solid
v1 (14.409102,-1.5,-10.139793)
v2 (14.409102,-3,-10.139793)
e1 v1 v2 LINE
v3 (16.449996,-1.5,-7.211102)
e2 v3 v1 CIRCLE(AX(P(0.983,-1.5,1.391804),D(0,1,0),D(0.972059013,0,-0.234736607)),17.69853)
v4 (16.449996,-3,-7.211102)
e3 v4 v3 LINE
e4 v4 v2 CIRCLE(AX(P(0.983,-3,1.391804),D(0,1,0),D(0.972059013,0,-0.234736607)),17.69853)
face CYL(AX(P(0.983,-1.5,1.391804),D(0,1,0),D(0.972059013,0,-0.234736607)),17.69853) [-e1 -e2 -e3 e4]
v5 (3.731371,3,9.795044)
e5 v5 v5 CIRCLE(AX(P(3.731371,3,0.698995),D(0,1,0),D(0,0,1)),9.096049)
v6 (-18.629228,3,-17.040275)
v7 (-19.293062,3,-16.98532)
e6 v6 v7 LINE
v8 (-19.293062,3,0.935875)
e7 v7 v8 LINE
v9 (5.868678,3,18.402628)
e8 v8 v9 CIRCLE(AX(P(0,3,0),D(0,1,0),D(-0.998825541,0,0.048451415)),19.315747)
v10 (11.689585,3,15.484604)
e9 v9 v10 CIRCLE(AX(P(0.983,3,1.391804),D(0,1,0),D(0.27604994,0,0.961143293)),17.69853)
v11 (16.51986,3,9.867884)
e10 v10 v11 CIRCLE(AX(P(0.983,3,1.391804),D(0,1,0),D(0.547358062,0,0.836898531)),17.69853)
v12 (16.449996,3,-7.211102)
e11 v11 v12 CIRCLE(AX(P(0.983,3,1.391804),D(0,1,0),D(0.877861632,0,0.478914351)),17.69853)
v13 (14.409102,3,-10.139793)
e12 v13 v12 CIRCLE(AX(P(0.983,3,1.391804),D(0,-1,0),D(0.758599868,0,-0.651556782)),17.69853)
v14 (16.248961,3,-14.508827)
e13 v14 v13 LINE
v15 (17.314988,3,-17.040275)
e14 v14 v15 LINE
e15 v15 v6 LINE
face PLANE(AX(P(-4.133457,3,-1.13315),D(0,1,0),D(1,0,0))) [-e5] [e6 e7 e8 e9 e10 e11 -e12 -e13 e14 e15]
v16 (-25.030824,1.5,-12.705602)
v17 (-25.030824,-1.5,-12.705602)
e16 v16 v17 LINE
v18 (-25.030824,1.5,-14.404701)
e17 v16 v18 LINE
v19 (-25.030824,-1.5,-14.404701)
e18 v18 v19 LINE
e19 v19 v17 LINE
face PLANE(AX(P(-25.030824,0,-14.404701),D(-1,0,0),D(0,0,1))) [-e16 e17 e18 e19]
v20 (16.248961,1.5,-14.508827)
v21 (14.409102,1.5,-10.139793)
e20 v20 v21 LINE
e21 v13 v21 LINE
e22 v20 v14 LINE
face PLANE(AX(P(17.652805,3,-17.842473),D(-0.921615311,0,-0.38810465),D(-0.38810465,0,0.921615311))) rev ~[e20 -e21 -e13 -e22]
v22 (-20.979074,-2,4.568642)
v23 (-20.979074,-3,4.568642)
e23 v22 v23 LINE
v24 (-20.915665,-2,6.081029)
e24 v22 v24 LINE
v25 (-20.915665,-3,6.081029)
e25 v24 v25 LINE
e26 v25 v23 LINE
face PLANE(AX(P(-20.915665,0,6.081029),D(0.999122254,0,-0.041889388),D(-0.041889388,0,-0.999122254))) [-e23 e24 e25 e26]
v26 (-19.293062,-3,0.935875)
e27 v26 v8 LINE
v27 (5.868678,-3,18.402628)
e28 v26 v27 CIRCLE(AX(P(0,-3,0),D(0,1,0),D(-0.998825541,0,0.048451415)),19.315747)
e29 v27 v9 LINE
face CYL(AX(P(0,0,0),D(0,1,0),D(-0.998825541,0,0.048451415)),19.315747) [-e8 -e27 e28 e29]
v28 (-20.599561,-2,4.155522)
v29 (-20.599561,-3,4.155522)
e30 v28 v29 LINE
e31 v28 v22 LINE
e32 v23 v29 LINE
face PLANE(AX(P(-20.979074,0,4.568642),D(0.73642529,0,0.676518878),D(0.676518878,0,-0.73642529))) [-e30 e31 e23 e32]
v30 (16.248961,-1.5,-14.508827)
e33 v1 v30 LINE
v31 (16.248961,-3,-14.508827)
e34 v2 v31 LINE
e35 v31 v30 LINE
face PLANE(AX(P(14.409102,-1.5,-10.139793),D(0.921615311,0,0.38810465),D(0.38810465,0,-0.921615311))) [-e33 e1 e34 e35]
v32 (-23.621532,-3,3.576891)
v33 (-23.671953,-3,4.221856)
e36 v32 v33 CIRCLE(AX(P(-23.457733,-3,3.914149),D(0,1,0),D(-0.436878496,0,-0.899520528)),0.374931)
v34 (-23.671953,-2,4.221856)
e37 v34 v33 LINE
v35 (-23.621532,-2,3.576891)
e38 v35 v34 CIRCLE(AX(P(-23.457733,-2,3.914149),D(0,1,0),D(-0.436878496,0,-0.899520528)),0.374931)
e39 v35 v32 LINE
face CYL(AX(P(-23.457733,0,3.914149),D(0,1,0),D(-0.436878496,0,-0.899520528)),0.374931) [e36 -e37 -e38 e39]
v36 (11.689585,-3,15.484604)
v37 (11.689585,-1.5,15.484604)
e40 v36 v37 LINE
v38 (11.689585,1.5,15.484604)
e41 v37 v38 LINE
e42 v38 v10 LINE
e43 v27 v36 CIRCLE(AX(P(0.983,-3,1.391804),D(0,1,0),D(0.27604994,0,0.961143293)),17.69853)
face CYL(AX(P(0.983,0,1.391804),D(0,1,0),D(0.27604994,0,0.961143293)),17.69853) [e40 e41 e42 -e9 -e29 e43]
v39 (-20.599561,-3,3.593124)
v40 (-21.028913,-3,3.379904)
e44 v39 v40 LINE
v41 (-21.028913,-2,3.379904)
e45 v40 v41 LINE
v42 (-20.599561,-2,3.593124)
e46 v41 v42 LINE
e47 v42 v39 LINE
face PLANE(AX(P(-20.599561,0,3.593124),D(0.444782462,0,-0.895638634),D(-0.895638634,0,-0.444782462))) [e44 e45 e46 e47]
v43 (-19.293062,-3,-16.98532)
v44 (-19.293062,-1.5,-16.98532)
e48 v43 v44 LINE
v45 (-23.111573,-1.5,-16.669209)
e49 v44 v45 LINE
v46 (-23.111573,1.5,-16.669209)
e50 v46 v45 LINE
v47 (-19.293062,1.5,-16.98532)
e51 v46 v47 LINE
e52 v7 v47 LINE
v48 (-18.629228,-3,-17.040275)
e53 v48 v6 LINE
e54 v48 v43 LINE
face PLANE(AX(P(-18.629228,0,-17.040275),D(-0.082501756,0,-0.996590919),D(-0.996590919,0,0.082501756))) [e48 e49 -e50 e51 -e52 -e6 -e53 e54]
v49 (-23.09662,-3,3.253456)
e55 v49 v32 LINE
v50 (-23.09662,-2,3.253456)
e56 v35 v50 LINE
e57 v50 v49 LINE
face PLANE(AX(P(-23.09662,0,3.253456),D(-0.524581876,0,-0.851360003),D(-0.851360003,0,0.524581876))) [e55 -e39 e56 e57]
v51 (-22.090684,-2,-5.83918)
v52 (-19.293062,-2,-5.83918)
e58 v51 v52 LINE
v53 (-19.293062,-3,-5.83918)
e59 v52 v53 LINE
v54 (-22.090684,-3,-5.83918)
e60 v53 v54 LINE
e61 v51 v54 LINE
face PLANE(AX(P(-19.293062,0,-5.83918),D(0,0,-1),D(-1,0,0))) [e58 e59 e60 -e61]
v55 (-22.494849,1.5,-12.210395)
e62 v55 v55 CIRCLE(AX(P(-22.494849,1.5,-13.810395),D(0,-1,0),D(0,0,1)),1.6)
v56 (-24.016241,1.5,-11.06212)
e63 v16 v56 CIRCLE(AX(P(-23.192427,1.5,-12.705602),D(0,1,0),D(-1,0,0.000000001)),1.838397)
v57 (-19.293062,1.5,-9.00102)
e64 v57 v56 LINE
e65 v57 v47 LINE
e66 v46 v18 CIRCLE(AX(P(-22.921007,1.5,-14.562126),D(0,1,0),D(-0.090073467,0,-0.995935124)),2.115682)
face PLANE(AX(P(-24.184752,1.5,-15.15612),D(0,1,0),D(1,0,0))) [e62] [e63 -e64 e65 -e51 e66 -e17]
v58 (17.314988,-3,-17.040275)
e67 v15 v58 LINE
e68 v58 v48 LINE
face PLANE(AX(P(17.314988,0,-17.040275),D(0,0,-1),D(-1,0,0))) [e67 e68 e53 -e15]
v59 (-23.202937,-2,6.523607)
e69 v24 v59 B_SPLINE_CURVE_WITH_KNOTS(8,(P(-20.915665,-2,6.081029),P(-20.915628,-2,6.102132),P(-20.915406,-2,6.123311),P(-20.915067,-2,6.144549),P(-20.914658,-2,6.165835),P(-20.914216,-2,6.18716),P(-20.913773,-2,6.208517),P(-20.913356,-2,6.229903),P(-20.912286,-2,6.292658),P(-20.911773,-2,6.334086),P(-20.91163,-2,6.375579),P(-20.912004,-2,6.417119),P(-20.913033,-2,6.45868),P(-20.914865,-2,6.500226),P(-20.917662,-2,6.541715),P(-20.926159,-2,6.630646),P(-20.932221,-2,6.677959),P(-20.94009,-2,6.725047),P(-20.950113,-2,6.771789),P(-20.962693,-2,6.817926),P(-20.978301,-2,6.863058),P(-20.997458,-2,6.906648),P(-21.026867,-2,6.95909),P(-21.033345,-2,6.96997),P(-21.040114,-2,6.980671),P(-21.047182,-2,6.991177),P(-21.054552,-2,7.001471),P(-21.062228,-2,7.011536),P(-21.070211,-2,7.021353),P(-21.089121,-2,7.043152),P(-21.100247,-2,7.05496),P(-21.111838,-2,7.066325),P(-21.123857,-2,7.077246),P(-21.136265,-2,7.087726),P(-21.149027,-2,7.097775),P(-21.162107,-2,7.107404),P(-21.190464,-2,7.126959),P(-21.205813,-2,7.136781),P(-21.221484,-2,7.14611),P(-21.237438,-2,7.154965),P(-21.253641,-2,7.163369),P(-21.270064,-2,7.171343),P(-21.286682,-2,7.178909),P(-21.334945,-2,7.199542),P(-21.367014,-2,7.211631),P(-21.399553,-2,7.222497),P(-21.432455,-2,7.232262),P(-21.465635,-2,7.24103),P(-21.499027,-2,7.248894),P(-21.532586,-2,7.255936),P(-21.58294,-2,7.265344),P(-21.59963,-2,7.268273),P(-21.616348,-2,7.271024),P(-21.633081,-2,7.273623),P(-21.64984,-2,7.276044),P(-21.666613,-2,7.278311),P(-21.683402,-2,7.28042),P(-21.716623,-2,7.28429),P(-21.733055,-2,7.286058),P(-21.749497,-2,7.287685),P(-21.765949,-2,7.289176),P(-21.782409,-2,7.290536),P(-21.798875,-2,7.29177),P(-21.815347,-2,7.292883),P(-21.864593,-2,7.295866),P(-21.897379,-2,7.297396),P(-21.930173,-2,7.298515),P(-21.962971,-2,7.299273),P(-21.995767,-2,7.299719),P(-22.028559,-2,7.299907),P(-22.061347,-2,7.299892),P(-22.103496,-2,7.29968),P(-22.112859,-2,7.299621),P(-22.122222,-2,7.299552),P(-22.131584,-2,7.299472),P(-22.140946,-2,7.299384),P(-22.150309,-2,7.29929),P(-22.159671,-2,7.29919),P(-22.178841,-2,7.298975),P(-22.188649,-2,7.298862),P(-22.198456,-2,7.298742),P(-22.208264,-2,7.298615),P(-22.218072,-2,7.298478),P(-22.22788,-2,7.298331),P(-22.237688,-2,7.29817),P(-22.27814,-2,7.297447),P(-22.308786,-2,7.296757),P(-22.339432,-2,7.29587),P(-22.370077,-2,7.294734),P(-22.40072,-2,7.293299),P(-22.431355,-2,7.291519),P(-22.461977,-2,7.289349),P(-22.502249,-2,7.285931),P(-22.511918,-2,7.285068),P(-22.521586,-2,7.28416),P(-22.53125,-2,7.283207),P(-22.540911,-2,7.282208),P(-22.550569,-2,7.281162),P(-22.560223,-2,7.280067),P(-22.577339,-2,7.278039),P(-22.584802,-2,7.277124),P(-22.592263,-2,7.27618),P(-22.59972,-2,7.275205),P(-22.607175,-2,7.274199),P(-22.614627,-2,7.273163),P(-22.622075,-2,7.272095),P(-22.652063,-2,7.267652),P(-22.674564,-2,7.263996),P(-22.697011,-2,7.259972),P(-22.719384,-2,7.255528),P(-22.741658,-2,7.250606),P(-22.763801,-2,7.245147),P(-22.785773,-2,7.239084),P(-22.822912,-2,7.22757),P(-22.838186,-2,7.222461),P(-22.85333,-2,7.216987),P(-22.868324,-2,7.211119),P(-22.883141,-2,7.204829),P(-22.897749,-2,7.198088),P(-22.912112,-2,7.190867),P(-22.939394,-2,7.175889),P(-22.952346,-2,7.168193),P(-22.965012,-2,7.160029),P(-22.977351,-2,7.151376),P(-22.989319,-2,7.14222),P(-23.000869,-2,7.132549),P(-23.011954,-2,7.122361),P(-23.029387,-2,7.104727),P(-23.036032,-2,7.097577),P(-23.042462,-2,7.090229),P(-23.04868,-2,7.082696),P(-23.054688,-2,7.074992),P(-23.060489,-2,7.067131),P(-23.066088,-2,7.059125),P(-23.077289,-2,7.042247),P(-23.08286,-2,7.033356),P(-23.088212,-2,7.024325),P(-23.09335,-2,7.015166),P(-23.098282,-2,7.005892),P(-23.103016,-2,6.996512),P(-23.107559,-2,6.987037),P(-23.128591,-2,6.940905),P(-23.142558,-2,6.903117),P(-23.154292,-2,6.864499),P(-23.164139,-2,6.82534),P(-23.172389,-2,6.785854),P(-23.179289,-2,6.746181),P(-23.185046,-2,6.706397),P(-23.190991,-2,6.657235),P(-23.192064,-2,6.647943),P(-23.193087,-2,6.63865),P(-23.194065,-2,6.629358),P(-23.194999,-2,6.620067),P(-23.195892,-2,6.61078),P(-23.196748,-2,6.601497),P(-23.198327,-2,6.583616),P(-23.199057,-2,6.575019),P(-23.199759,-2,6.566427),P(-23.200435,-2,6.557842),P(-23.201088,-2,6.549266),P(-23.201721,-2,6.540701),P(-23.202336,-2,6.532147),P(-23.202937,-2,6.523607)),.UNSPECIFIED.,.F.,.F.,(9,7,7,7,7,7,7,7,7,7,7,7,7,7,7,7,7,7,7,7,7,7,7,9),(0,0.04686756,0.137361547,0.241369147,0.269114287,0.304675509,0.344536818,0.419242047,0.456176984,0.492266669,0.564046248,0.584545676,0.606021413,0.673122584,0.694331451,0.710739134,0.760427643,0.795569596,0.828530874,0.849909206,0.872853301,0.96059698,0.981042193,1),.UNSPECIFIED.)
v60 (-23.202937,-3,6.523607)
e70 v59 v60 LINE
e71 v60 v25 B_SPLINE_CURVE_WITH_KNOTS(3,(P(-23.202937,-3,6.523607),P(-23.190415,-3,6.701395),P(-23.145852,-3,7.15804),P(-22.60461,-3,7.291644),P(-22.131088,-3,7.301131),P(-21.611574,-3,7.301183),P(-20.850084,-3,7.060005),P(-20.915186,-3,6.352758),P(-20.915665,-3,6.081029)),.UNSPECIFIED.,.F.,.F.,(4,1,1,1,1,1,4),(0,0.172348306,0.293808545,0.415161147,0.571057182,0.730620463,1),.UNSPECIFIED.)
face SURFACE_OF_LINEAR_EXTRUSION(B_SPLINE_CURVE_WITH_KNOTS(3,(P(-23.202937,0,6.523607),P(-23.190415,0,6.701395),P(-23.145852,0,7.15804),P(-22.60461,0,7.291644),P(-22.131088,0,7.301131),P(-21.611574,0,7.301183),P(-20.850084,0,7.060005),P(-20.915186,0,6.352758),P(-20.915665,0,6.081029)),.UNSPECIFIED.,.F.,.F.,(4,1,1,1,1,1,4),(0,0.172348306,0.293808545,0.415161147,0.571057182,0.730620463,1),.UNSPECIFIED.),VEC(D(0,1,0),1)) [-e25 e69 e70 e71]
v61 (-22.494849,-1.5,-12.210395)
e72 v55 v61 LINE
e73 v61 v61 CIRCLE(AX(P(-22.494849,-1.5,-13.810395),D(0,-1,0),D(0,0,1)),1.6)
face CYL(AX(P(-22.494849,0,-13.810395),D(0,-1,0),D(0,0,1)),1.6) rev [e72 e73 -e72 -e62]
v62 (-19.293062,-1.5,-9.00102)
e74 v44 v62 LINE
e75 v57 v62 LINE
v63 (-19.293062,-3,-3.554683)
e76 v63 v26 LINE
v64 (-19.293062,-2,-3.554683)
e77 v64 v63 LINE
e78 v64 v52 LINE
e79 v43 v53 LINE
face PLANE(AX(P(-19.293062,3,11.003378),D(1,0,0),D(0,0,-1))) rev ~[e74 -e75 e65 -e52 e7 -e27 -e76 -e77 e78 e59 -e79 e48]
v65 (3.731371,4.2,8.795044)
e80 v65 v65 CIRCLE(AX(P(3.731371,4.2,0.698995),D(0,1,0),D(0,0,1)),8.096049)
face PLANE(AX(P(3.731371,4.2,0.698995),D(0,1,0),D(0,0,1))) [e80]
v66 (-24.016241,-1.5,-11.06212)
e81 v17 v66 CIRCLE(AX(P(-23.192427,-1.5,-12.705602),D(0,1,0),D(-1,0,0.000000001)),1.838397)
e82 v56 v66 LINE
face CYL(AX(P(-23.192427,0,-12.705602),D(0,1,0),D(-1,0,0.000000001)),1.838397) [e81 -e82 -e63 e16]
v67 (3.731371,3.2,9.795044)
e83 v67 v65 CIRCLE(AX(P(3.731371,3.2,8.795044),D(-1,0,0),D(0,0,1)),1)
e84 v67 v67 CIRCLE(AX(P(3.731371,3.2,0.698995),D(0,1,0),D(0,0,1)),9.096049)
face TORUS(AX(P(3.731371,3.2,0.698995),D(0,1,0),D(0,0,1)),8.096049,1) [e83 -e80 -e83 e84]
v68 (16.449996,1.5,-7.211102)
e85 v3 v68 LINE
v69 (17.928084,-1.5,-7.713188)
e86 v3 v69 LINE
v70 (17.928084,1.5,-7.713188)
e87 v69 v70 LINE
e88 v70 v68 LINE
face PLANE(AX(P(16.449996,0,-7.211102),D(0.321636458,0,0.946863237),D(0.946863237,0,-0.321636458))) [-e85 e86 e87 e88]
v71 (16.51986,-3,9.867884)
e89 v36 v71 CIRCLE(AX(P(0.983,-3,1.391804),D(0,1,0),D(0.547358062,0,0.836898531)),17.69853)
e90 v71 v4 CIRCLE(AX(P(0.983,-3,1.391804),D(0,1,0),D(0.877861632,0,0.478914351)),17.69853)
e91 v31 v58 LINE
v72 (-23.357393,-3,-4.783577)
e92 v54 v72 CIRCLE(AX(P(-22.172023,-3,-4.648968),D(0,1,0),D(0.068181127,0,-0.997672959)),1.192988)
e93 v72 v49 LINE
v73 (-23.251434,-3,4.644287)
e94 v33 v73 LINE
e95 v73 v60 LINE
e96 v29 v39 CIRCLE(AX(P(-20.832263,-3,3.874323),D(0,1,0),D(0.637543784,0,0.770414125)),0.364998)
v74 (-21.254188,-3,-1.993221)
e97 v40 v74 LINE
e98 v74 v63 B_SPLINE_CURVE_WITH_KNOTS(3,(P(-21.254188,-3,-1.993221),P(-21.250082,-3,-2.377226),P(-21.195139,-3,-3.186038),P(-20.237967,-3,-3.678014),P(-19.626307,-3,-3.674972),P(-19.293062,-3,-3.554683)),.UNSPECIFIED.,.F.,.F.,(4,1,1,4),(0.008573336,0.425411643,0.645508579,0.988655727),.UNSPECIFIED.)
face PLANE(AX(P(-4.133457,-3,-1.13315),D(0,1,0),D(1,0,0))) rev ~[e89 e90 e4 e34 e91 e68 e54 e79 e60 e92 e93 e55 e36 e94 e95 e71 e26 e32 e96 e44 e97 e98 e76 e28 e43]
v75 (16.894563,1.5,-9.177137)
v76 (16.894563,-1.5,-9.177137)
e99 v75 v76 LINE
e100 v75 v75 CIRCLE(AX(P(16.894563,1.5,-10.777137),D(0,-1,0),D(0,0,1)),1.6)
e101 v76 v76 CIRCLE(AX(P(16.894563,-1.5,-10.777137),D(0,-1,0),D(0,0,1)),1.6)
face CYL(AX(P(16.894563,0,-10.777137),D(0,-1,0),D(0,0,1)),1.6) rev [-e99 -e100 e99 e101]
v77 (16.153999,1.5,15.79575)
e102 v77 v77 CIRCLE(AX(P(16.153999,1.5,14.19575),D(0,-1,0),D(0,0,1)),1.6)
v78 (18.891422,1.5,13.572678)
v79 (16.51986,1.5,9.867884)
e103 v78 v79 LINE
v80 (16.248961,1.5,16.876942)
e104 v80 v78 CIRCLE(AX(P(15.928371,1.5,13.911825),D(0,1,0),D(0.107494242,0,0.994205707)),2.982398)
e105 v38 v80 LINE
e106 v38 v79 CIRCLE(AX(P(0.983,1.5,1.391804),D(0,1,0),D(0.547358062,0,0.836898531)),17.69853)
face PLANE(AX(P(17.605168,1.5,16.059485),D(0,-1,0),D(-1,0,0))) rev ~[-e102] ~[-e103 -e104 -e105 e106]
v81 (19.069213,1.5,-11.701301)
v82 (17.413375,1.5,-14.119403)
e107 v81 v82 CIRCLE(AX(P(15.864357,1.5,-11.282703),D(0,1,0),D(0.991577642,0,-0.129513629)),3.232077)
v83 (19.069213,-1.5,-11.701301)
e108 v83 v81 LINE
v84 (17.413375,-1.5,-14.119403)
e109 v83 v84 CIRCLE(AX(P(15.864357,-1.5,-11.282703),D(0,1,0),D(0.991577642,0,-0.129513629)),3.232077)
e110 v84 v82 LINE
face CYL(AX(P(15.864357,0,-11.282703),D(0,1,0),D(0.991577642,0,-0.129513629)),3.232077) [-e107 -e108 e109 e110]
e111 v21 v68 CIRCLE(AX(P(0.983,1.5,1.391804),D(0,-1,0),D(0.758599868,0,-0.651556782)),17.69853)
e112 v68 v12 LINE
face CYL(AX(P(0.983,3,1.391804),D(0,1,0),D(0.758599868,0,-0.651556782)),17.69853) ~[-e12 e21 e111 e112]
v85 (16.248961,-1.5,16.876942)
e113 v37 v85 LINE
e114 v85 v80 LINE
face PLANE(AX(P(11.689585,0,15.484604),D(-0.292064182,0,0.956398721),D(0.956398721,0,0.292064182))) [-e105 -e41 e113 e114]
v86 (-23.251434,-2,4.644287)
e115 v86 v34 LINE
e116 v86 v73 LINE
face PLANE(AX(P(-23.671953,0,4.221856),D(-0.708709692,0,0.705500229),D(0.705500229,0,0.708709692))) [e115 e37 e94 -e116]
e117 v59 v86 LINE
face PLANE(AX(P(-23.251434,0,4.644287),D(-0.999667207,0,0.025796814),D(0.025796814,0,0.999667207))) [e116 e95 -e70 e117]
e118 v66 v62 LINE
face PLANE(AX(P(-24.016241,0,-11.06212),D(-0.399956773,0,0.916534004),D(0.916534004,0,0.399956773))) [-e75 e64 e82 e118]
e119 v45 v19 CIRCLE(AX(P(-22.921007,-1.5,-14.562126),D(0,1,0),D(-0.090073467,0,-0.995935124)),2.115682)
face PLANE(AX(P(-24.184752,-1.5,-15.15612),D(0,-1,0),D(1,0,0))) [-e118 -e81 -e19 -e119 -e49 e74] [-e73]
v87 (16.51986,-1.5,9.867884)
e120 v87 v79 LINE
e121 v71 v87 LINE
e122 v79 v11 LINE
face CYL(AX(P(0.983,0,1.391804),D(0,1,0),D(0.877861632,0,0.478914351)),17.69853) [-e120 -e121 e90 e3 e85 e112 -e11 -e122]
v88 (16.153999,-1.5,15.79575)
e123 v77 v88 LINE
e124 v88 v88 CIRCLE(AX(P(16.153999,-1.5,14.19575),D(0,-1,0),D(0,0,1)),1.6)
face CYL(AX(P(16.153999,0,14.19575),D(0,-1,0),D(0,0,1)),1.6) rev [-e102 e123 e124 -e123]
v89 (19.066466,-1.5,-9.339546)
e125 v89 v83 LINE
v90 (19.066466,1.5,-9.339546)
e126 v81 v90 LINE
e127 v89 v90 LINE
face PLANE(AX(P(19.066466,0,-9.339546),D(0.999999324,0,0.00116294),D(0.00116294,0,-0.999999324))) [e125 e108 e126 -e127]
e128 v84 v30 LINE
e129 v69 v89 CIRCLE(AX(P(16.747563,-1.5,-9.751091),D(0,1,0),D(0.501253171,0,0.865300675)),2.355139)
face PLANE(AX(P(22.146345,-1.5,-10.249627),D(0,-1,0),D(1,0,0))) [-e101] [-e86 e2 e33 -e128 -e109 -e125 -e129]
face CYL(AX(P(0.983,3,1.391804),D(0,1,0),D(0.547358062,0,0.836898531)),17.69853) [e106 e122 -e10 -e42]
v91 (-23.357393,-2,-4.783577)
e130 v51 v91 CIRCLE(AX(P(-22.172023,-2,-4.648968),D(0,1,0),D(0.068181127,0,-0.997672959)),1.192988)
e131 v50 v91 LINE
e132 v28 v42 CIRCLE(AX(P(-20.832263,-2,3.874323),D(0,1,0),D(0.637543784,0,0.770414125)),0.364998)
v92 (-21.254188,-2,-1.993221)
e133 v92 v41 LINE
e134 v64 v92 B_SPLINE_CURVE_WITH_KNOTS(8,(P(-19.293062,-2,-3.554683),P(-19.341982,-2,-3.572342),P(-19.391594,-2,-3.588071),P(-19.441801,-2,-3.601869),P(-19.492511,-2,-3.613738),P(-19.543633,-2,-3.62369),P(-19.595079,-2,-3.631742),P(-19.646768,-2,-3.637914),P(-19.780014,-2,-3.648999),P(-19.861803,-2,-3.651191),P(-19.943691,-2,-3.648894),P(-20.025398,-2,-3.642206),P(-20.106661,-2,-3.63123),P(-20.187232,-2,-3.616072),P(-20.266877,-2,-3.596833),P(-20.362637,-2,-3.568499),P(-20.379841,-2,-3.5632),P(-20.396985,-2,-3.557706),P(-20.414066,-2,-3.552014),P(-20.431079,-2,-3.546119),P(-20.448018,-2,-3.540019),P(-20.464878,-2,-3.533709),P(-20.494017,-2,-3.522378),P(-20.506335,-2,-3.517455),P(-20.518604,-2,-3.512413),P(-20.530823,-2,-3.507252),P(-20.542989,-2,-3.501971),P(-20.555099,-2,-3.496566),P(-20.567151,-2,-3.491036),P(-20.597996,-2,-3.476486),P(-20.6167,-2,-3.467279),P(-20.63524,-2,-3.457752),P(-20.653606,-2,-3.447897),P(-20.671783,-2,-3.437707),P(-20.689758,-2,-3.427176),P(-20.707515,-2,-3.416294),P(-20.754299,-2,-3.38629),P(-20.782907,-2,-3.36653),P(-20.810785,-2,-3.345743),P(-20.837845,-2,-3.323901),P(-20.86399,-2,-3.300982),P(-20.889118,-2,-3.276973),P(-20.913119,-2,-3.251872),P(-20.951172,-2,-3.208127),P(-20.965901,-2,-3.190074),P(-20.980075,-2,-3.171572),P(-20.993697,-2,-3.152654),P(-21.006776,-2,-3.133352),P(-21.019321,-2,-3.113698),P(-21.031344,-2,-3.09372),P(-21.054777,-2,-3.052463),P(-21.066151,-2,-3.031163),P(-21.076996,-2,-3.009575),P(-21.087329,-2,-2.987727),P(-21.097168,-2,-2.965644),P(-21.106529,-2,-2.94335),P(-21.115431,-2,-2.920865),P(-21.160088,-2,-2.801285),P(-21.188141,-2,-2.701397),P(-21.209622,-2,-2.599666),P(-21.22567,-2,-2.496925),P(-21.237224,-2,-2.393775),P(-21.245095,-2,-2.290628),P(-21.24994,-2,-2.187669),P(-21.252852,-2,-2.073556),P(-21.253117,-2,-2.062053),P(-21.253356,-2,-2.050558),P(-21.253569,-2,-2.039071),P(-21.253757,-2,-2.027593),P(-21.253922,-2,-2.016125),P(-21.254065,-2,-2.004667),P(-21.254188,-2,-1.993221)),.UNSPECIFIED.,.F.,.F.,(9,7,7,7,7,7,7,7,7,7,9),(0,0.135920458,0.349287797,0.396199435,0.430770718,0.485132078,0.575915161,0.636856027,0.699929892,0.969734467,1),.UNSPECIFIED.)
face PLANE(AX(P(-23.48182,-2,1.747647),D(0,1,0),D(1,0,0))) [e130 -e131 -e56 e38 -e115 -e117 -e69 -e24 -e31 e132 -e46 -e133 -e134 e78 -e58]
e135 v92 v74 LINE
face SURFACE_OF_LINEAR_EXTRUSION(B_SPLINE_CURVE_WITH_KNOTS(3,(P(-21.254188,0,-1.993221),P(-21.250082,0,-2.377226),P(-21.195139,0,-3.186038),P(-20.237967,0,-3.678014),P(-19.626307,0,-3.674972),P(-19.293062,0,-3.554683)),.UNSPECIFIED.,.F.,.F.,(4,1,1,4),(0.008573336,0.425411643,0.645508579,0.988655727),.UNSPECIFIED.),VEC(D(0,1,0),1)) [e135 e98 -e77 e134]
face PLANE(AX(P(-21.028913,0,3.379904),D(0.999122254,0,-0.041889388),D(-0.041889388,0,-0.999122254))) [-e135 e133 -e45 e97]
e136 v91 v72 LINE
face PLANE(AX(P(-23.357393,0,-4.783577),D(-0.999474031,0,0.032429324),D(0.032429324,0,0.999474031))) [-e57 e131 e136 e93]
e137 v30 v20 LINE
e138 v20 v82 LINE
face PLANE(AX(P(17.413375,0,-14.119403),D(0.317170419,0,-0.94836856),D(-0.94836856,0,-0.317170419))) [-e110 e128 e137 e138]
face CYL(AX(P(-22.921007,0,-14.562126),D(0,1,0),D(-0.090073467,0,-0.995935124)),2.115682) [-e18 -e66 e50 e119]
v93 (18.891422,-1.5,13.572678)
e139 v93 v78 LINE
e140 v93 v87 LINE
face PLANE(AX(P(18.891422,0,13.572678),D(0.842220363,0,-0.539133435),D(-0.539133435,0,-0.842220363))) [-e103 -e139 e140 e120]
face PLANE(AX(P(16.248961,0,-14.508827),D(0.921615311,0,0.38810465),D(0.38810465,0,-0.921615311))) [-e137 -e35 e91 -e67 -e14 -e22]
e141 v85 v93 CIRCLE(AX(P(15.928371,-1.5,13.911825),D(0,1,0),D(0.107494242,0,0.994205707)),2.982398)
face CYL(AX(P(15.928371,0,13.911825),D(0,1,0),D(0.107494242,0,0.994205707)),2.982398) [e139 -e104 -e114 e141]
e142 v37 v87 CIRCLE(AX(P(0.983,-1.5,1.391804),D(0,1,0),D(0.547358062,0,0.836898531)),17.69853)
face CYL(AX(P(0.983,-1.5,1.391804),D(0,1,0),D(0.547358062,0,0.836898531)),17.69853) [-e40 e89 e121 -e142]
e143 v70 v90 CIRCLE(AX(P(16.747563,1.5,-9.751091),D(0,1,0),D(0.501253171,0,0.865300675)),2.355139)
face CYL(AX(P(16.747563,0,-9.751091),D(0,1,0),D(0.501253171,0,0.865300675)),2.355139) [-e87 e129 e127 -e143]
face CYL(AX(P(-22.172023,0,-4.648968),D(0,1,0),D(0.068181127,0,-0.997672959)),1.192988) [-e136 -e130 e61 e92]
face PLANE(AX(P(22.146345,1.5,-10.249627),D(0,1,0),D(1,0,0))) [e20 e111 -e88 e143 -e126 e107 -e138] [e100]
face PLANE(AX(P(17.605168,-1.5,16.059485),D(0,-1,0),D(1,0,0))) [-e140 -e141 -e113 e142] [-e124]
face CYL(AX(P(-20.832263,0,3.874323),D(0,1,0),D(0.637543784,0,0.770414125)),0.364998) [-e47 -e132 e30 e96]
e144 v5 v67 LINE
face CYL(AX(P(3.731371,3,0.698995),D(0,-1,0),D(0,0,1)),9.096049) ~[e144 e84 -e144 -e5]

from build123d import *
from build123d.topology import SkipClean

# Parameters (mm, degrees)
SKETCH2_R           = 1.5
BOSS_EXTRUDE1_DEPTH = 3
SKETCH3_R           = 9.096048505
BOSS_EXTRUDE2_DEPTH = 1.2
FILLET1_R           = 1
CUT_EXTRUDE1_DEPTH  = 1.5
CUT_EXTRUDE2_START  = -1.5
CUT_EXTRUDE2_DEPTH  = 1.5
CUT_EXTRUDE3_DEPTH  = 5
MOVE_FACE1_BY       = 0.1
MOVE_FACE1_2_BY     = 0.1
MOVE_FACE1_3_BY     = 0.1


with BuildPart() as part:
    # Sketch2 → Boss-Extrude1 (new, symmetric)
    with BuildSketch(Plane(origin=(0, 0, 0), x_dir=(1, 0, 0), z_dir=(0, 1, 0))):
        with BuildLine():
            Line((-20.599560655, -3.593123858), (-21.028912901, -3.379903546))
            Line((-21.028912901, -3.379903546), (-21.254187526, 1.993220784))
            add(Edge.make_bspline(
                [(-21.254187526, 1.993220784), (-21.250081776, 2.377226096), (-21.195139063, 3.186038357), (-20.237966675, 3.678013728), (-19.626306607, 3.674971934), (-19.293061526, 3.554683236)],
                knots=[0.008573336, 0.008573336, 0.008573336, 0.008573336, 0.425411643, 0.645508579, 0.988655727, 0.988655727, 0.988655727, 0.988655727], degree=3))
            Line((-19.293061526, 3.554683236), (-19.293061526, -0.935875279))
            ThreePointArc((-19.293061526, -0.935875279), (-11.01478007, -15.867347151), (5.868677769, -18.402627716))
            ThreePointArc((5.868677769, -18.402627716), (8.914480471, -17.213611271), (11.689585214, -15.484603502))
            Line((11.689585214, -15.484603502), (16.248961374, -16.876941699))
            ThreePointArc((16.248961374, -16.876941699), (18.257558766, -15.774505508), (18.891422269, -13.572677609))
            Line((18.891422269, -13.572677609), (16.51986009, -9.867884272))
            ThreePointArc((16.51986009, -9.867884272), (18.681381592, -1.319406436), (16.449996012, 7.211101574))
            Line((16.449996012, 7.211101574), (17.928084104, 7.713187831))
            ThreePointArc((17.928084104, 7.713187831), (18.677006581, 8.400562387), (19.066466062, 9.339545863))
            Line((19.066466062, 9.339545863), (19.069212644, 11.701301235))
            ThreePointArc((19.069212644, 11.701301235), (18.53112158, 13.108816633), (17.413375201, 14.119402908))
            Line((17.413375201, 14.119402908), (16.248961374, 14.508827059))
            Line((16.248961374, 14.508827059), (17.314988377, 17.040275234))
            Line((17.314988377, 17.040275234), (-18.629227908, 17.040275234))
            Line((-18.629227908, 17.040275234), (-23.111573489, 16.669208858))
            ThreePointArc((-23.111573489, 16.669208858), (-24.534989581, 15.930034001), (-25.030823978, 14.404700893))
            Line((-25.030823978, 14.404700893), (-25.030823978, 12.70560175))
            ThreePointArc((-25.030823978, 12.70560175), (-24.756748057, 11.739888101), (-24.016241086, 11.062119787))
            Line((-24.016241086, 11.062119787), (-19.293061526, 9.00102042))
            Line((-19.293061526, 9.00102042), (-19.293061526, 5.839179653))
            Line((-19.293061526, 5.839179653), (-22.090684207, 5.839179653))
            ThreePointArc((-22.090684207, 5.839179653), (-22.935760928, 5.565442119), (-23.357392581, 4.783576625))
            Line((-23.357392581, 4.783576625), (-23.096619876, -3.253456456))
            Line((-23.096619876, -3.253456456), (-23.621531964, -3.576891157))
            ThreePointArc((-23.621531964, -3.576891157), (-23.831523214, -3.884927944), (-23.671952518, -4.221855504))
            Line((-23.671952518, -4.221855504), (-23.25143386, -4.644287186))
            Line((-23.25143386, -4.644287186), (-23.202937263, -6.523606801))
            add(Edge.make_bspline(
                [(-23.202937263, -6.523606801), (-23.190415125, -6.701394879), (-23.14585211, -7.158039831), (-22.604610265, -7.291644066), (-22.131088375, -7.301130698), (-21.611573501, -7.301182592), (-20.850084131, -7.060004854), (-20.915185829, -6.352757768), (-20.915665013, -6.081028816)],
                knots=[0, 0, 0, 0, 0.172348306, 0.293808545, 0.415161147, 0.571057182, 0.730620463, 1, 1, 1, 1], degree=3))
            Line((-20.915665013, -6.081028816), (-20.979073646, -4.568641575))
            Line((-20.979073646, -4.568641575), (-20.599560655, -4.155522335))
            ThreePointArc((-20.599560655, -4.155522335), (-20.467265038, -3.874323097), (-20.599560655, -3.593123858))
        make_face()
        with Locations(Location((16.153998691, -14.195749789, 0), (0, 0, 270))):
            Circle(SKETCH2_R, mode=Mode.SUBTRACT)
        with Locations(Location((-22.494848615, 13.810394624, 0), (0, 0, 270))):
            Circle(SKETCH2_R, mode=Mode.SUBTRACT)
        with Locations(Location((16.894563054, 10.777137226, 0), (0, 0, 270))):
            Circle(SKETCH2_R, mode=Mode.SUBTRACT)
    extrude(amount=BOSS_EXTRUDE1_DEPTH, both=True)

    # Sketch3 → Boss-Extrude2 (add)
    with BuildSketch(Plane(origin=(0, 3, 0), x_dir=(1, 0, 0), z_dir=(0, 1, 0))):
        with Locations(Location((3.73137128, -0.69899531, 0), (0, 0, 270))):
            Circle(SKETCH3_R)
    extrude(amount=BOSS_EXTRUDE2_DEPTH)

    # Fillet1
    fillet1_edges = [part.edges().sort_by_distance(p)[0] for p in [
        (3.73137128, 4.2, -8.397053195),
    ]]
    fillet(fillet1_edges, radius=FILLET1_R)

    # Sketch4 → Cut-Extrude1 (cut)
    with SkipClean():  # the faces are left unmerged after this step: merging them gives an invalid solid
        with BuildSketch(Plane(origin=(0, 3, 0), x_dir=(1, 0, 0), z_dir=(0, 1, 0))):
            Polygon((-19.293061526, 7.248655358), (-19.293061526, 22.083159944), (-29.904114882, 22.083159944), (-28.79317924, 8.663465276), align=None)
            with BuildLine():
                Line((17.65280475, 17.842473148), (14.40910217, 10.139793056))
                ThreePointArc((14.40910217, 10.139793056), (16.735981963, 6.675507155), (18.187015276, 2.762688645))
                Line((18.187015276, 2.762688645), (25.347732491, 2.045186791))
                Line((25.347732491, 2.045186791), (30.175625625, 15.043360613))
                Line((30.175625625, 15.043360613), (17.65280475, 17.842473148))
            make_face()
            with BuildLine():
                Line((17.279847396, -8.294754226), (24.575782686, -15.276129443))
                Line((24.575782686, -15.276129443), (17.279847396, -23.8721919))
                Line((17.279847396, -23.8721919), (10.670432719, -16.203678062))
                ThreePointArc((10.670432719, -16.203678062), (14.563628552, -12.741010549), (17.279847396, -8.294754226))
            make_face()
        extrude(amount=-CUT_EXTRUDE1_DEPTH, mode=Mode.SUBTRACT)

    # Sketch5 → Cut-Extrude2 (cut)
    with SkipClean():  # the faces are left unmerged after this step: merging them gives an invalid solid
        with BuildSketch(Plane.XZ.offset(3).offset(CUT_EXTRUDE2_START)):
            with BuildLine():
                Line((14.40910217, -10.139793056), (17.65280475, -17.842473148))
                Line((17.65280475, -17.842473148), (30.175625625, -15.043360613))
                Line((30.175625625, -15.043360613), (25.347732491, -2.045186791))
                Line((25.347732491, -2.045186791), (18.187015276, -2.762688645))
                ThreePointArc((18.187015276, -2.762688645), (16.735981963, -6.675507155), (14.40910217, -10.139793056))
            make_face()
            Polygon((-19.293061526, -22.083159944), (-19.293061526, -7.248655358), (-28.79317924, -8.663465276), (-29.904114882, -22.083159944), align=None)
            with BuildLine():
                Line((24.575782686, 15.276129443), (17.279847396, 23.8721919))
                Line((17.279847396, 23.8721919), (10.670432719, 16.203678062))
                ThreePointArc((10.670432719, 16.203678062), (14.563628552, 12.741010549), (17.279847396, 8.294754226))
                Line((17.279847396, 8.294754226), (24.575782686, 15.276129443))
            make_face()
        extrude(amount=CUT_EXTRUDE2_DEPTH, mode=Mode.SUBTRACT)

    # Sketch6 → Cut-Extrude3 (cut)
    with SkipClean():  # the faces are left unmerged after this step: merging them gives an invalid solid
        with BuildSketch(Plane(origin=(0, 3, 0), x_dir=(1, 0, 0), z_dir=(0, 1, 0))):
            Polygon((-19.293061526, -0.935875279), (-19.293061526, 7.436034842), (-28.419835781, 7.111305906), (-26.742069614, -11.668850866), (-19.293061526, -11.003377521), align=None)
        extrude(amount=-CUT_EXTRUDE3_DEPTH, mode=Mode.SUBTRACT)

    # Move Face1: a curved face moved inward by 0.1
    add(Solid.thicken(part.faces().sort_by_distance((16.153998691, 0, 12.695749789))[0], -MOVE_FACE1_BY), mode=Mode.SUBTRACT)

    # Move Face1 2: a curved face moved inward by 0.1
    add(Solid.thicken(part.faces().sort_by_distance((-22.494848615, 0, -15.310394624))[0], -MOVE_FACE1_2_BY), mode=Mode.SUBTRACT)

    # Move Face1 3: a curved face moved inward by 0.1
    add(Solid.thicken(part.faces().sort_by_distance((16.894563054, 0, -12.277137226))[0], -MOVE_FACE1_3_BY), mode=Mode.SUBTRACT)


solid = part.part
